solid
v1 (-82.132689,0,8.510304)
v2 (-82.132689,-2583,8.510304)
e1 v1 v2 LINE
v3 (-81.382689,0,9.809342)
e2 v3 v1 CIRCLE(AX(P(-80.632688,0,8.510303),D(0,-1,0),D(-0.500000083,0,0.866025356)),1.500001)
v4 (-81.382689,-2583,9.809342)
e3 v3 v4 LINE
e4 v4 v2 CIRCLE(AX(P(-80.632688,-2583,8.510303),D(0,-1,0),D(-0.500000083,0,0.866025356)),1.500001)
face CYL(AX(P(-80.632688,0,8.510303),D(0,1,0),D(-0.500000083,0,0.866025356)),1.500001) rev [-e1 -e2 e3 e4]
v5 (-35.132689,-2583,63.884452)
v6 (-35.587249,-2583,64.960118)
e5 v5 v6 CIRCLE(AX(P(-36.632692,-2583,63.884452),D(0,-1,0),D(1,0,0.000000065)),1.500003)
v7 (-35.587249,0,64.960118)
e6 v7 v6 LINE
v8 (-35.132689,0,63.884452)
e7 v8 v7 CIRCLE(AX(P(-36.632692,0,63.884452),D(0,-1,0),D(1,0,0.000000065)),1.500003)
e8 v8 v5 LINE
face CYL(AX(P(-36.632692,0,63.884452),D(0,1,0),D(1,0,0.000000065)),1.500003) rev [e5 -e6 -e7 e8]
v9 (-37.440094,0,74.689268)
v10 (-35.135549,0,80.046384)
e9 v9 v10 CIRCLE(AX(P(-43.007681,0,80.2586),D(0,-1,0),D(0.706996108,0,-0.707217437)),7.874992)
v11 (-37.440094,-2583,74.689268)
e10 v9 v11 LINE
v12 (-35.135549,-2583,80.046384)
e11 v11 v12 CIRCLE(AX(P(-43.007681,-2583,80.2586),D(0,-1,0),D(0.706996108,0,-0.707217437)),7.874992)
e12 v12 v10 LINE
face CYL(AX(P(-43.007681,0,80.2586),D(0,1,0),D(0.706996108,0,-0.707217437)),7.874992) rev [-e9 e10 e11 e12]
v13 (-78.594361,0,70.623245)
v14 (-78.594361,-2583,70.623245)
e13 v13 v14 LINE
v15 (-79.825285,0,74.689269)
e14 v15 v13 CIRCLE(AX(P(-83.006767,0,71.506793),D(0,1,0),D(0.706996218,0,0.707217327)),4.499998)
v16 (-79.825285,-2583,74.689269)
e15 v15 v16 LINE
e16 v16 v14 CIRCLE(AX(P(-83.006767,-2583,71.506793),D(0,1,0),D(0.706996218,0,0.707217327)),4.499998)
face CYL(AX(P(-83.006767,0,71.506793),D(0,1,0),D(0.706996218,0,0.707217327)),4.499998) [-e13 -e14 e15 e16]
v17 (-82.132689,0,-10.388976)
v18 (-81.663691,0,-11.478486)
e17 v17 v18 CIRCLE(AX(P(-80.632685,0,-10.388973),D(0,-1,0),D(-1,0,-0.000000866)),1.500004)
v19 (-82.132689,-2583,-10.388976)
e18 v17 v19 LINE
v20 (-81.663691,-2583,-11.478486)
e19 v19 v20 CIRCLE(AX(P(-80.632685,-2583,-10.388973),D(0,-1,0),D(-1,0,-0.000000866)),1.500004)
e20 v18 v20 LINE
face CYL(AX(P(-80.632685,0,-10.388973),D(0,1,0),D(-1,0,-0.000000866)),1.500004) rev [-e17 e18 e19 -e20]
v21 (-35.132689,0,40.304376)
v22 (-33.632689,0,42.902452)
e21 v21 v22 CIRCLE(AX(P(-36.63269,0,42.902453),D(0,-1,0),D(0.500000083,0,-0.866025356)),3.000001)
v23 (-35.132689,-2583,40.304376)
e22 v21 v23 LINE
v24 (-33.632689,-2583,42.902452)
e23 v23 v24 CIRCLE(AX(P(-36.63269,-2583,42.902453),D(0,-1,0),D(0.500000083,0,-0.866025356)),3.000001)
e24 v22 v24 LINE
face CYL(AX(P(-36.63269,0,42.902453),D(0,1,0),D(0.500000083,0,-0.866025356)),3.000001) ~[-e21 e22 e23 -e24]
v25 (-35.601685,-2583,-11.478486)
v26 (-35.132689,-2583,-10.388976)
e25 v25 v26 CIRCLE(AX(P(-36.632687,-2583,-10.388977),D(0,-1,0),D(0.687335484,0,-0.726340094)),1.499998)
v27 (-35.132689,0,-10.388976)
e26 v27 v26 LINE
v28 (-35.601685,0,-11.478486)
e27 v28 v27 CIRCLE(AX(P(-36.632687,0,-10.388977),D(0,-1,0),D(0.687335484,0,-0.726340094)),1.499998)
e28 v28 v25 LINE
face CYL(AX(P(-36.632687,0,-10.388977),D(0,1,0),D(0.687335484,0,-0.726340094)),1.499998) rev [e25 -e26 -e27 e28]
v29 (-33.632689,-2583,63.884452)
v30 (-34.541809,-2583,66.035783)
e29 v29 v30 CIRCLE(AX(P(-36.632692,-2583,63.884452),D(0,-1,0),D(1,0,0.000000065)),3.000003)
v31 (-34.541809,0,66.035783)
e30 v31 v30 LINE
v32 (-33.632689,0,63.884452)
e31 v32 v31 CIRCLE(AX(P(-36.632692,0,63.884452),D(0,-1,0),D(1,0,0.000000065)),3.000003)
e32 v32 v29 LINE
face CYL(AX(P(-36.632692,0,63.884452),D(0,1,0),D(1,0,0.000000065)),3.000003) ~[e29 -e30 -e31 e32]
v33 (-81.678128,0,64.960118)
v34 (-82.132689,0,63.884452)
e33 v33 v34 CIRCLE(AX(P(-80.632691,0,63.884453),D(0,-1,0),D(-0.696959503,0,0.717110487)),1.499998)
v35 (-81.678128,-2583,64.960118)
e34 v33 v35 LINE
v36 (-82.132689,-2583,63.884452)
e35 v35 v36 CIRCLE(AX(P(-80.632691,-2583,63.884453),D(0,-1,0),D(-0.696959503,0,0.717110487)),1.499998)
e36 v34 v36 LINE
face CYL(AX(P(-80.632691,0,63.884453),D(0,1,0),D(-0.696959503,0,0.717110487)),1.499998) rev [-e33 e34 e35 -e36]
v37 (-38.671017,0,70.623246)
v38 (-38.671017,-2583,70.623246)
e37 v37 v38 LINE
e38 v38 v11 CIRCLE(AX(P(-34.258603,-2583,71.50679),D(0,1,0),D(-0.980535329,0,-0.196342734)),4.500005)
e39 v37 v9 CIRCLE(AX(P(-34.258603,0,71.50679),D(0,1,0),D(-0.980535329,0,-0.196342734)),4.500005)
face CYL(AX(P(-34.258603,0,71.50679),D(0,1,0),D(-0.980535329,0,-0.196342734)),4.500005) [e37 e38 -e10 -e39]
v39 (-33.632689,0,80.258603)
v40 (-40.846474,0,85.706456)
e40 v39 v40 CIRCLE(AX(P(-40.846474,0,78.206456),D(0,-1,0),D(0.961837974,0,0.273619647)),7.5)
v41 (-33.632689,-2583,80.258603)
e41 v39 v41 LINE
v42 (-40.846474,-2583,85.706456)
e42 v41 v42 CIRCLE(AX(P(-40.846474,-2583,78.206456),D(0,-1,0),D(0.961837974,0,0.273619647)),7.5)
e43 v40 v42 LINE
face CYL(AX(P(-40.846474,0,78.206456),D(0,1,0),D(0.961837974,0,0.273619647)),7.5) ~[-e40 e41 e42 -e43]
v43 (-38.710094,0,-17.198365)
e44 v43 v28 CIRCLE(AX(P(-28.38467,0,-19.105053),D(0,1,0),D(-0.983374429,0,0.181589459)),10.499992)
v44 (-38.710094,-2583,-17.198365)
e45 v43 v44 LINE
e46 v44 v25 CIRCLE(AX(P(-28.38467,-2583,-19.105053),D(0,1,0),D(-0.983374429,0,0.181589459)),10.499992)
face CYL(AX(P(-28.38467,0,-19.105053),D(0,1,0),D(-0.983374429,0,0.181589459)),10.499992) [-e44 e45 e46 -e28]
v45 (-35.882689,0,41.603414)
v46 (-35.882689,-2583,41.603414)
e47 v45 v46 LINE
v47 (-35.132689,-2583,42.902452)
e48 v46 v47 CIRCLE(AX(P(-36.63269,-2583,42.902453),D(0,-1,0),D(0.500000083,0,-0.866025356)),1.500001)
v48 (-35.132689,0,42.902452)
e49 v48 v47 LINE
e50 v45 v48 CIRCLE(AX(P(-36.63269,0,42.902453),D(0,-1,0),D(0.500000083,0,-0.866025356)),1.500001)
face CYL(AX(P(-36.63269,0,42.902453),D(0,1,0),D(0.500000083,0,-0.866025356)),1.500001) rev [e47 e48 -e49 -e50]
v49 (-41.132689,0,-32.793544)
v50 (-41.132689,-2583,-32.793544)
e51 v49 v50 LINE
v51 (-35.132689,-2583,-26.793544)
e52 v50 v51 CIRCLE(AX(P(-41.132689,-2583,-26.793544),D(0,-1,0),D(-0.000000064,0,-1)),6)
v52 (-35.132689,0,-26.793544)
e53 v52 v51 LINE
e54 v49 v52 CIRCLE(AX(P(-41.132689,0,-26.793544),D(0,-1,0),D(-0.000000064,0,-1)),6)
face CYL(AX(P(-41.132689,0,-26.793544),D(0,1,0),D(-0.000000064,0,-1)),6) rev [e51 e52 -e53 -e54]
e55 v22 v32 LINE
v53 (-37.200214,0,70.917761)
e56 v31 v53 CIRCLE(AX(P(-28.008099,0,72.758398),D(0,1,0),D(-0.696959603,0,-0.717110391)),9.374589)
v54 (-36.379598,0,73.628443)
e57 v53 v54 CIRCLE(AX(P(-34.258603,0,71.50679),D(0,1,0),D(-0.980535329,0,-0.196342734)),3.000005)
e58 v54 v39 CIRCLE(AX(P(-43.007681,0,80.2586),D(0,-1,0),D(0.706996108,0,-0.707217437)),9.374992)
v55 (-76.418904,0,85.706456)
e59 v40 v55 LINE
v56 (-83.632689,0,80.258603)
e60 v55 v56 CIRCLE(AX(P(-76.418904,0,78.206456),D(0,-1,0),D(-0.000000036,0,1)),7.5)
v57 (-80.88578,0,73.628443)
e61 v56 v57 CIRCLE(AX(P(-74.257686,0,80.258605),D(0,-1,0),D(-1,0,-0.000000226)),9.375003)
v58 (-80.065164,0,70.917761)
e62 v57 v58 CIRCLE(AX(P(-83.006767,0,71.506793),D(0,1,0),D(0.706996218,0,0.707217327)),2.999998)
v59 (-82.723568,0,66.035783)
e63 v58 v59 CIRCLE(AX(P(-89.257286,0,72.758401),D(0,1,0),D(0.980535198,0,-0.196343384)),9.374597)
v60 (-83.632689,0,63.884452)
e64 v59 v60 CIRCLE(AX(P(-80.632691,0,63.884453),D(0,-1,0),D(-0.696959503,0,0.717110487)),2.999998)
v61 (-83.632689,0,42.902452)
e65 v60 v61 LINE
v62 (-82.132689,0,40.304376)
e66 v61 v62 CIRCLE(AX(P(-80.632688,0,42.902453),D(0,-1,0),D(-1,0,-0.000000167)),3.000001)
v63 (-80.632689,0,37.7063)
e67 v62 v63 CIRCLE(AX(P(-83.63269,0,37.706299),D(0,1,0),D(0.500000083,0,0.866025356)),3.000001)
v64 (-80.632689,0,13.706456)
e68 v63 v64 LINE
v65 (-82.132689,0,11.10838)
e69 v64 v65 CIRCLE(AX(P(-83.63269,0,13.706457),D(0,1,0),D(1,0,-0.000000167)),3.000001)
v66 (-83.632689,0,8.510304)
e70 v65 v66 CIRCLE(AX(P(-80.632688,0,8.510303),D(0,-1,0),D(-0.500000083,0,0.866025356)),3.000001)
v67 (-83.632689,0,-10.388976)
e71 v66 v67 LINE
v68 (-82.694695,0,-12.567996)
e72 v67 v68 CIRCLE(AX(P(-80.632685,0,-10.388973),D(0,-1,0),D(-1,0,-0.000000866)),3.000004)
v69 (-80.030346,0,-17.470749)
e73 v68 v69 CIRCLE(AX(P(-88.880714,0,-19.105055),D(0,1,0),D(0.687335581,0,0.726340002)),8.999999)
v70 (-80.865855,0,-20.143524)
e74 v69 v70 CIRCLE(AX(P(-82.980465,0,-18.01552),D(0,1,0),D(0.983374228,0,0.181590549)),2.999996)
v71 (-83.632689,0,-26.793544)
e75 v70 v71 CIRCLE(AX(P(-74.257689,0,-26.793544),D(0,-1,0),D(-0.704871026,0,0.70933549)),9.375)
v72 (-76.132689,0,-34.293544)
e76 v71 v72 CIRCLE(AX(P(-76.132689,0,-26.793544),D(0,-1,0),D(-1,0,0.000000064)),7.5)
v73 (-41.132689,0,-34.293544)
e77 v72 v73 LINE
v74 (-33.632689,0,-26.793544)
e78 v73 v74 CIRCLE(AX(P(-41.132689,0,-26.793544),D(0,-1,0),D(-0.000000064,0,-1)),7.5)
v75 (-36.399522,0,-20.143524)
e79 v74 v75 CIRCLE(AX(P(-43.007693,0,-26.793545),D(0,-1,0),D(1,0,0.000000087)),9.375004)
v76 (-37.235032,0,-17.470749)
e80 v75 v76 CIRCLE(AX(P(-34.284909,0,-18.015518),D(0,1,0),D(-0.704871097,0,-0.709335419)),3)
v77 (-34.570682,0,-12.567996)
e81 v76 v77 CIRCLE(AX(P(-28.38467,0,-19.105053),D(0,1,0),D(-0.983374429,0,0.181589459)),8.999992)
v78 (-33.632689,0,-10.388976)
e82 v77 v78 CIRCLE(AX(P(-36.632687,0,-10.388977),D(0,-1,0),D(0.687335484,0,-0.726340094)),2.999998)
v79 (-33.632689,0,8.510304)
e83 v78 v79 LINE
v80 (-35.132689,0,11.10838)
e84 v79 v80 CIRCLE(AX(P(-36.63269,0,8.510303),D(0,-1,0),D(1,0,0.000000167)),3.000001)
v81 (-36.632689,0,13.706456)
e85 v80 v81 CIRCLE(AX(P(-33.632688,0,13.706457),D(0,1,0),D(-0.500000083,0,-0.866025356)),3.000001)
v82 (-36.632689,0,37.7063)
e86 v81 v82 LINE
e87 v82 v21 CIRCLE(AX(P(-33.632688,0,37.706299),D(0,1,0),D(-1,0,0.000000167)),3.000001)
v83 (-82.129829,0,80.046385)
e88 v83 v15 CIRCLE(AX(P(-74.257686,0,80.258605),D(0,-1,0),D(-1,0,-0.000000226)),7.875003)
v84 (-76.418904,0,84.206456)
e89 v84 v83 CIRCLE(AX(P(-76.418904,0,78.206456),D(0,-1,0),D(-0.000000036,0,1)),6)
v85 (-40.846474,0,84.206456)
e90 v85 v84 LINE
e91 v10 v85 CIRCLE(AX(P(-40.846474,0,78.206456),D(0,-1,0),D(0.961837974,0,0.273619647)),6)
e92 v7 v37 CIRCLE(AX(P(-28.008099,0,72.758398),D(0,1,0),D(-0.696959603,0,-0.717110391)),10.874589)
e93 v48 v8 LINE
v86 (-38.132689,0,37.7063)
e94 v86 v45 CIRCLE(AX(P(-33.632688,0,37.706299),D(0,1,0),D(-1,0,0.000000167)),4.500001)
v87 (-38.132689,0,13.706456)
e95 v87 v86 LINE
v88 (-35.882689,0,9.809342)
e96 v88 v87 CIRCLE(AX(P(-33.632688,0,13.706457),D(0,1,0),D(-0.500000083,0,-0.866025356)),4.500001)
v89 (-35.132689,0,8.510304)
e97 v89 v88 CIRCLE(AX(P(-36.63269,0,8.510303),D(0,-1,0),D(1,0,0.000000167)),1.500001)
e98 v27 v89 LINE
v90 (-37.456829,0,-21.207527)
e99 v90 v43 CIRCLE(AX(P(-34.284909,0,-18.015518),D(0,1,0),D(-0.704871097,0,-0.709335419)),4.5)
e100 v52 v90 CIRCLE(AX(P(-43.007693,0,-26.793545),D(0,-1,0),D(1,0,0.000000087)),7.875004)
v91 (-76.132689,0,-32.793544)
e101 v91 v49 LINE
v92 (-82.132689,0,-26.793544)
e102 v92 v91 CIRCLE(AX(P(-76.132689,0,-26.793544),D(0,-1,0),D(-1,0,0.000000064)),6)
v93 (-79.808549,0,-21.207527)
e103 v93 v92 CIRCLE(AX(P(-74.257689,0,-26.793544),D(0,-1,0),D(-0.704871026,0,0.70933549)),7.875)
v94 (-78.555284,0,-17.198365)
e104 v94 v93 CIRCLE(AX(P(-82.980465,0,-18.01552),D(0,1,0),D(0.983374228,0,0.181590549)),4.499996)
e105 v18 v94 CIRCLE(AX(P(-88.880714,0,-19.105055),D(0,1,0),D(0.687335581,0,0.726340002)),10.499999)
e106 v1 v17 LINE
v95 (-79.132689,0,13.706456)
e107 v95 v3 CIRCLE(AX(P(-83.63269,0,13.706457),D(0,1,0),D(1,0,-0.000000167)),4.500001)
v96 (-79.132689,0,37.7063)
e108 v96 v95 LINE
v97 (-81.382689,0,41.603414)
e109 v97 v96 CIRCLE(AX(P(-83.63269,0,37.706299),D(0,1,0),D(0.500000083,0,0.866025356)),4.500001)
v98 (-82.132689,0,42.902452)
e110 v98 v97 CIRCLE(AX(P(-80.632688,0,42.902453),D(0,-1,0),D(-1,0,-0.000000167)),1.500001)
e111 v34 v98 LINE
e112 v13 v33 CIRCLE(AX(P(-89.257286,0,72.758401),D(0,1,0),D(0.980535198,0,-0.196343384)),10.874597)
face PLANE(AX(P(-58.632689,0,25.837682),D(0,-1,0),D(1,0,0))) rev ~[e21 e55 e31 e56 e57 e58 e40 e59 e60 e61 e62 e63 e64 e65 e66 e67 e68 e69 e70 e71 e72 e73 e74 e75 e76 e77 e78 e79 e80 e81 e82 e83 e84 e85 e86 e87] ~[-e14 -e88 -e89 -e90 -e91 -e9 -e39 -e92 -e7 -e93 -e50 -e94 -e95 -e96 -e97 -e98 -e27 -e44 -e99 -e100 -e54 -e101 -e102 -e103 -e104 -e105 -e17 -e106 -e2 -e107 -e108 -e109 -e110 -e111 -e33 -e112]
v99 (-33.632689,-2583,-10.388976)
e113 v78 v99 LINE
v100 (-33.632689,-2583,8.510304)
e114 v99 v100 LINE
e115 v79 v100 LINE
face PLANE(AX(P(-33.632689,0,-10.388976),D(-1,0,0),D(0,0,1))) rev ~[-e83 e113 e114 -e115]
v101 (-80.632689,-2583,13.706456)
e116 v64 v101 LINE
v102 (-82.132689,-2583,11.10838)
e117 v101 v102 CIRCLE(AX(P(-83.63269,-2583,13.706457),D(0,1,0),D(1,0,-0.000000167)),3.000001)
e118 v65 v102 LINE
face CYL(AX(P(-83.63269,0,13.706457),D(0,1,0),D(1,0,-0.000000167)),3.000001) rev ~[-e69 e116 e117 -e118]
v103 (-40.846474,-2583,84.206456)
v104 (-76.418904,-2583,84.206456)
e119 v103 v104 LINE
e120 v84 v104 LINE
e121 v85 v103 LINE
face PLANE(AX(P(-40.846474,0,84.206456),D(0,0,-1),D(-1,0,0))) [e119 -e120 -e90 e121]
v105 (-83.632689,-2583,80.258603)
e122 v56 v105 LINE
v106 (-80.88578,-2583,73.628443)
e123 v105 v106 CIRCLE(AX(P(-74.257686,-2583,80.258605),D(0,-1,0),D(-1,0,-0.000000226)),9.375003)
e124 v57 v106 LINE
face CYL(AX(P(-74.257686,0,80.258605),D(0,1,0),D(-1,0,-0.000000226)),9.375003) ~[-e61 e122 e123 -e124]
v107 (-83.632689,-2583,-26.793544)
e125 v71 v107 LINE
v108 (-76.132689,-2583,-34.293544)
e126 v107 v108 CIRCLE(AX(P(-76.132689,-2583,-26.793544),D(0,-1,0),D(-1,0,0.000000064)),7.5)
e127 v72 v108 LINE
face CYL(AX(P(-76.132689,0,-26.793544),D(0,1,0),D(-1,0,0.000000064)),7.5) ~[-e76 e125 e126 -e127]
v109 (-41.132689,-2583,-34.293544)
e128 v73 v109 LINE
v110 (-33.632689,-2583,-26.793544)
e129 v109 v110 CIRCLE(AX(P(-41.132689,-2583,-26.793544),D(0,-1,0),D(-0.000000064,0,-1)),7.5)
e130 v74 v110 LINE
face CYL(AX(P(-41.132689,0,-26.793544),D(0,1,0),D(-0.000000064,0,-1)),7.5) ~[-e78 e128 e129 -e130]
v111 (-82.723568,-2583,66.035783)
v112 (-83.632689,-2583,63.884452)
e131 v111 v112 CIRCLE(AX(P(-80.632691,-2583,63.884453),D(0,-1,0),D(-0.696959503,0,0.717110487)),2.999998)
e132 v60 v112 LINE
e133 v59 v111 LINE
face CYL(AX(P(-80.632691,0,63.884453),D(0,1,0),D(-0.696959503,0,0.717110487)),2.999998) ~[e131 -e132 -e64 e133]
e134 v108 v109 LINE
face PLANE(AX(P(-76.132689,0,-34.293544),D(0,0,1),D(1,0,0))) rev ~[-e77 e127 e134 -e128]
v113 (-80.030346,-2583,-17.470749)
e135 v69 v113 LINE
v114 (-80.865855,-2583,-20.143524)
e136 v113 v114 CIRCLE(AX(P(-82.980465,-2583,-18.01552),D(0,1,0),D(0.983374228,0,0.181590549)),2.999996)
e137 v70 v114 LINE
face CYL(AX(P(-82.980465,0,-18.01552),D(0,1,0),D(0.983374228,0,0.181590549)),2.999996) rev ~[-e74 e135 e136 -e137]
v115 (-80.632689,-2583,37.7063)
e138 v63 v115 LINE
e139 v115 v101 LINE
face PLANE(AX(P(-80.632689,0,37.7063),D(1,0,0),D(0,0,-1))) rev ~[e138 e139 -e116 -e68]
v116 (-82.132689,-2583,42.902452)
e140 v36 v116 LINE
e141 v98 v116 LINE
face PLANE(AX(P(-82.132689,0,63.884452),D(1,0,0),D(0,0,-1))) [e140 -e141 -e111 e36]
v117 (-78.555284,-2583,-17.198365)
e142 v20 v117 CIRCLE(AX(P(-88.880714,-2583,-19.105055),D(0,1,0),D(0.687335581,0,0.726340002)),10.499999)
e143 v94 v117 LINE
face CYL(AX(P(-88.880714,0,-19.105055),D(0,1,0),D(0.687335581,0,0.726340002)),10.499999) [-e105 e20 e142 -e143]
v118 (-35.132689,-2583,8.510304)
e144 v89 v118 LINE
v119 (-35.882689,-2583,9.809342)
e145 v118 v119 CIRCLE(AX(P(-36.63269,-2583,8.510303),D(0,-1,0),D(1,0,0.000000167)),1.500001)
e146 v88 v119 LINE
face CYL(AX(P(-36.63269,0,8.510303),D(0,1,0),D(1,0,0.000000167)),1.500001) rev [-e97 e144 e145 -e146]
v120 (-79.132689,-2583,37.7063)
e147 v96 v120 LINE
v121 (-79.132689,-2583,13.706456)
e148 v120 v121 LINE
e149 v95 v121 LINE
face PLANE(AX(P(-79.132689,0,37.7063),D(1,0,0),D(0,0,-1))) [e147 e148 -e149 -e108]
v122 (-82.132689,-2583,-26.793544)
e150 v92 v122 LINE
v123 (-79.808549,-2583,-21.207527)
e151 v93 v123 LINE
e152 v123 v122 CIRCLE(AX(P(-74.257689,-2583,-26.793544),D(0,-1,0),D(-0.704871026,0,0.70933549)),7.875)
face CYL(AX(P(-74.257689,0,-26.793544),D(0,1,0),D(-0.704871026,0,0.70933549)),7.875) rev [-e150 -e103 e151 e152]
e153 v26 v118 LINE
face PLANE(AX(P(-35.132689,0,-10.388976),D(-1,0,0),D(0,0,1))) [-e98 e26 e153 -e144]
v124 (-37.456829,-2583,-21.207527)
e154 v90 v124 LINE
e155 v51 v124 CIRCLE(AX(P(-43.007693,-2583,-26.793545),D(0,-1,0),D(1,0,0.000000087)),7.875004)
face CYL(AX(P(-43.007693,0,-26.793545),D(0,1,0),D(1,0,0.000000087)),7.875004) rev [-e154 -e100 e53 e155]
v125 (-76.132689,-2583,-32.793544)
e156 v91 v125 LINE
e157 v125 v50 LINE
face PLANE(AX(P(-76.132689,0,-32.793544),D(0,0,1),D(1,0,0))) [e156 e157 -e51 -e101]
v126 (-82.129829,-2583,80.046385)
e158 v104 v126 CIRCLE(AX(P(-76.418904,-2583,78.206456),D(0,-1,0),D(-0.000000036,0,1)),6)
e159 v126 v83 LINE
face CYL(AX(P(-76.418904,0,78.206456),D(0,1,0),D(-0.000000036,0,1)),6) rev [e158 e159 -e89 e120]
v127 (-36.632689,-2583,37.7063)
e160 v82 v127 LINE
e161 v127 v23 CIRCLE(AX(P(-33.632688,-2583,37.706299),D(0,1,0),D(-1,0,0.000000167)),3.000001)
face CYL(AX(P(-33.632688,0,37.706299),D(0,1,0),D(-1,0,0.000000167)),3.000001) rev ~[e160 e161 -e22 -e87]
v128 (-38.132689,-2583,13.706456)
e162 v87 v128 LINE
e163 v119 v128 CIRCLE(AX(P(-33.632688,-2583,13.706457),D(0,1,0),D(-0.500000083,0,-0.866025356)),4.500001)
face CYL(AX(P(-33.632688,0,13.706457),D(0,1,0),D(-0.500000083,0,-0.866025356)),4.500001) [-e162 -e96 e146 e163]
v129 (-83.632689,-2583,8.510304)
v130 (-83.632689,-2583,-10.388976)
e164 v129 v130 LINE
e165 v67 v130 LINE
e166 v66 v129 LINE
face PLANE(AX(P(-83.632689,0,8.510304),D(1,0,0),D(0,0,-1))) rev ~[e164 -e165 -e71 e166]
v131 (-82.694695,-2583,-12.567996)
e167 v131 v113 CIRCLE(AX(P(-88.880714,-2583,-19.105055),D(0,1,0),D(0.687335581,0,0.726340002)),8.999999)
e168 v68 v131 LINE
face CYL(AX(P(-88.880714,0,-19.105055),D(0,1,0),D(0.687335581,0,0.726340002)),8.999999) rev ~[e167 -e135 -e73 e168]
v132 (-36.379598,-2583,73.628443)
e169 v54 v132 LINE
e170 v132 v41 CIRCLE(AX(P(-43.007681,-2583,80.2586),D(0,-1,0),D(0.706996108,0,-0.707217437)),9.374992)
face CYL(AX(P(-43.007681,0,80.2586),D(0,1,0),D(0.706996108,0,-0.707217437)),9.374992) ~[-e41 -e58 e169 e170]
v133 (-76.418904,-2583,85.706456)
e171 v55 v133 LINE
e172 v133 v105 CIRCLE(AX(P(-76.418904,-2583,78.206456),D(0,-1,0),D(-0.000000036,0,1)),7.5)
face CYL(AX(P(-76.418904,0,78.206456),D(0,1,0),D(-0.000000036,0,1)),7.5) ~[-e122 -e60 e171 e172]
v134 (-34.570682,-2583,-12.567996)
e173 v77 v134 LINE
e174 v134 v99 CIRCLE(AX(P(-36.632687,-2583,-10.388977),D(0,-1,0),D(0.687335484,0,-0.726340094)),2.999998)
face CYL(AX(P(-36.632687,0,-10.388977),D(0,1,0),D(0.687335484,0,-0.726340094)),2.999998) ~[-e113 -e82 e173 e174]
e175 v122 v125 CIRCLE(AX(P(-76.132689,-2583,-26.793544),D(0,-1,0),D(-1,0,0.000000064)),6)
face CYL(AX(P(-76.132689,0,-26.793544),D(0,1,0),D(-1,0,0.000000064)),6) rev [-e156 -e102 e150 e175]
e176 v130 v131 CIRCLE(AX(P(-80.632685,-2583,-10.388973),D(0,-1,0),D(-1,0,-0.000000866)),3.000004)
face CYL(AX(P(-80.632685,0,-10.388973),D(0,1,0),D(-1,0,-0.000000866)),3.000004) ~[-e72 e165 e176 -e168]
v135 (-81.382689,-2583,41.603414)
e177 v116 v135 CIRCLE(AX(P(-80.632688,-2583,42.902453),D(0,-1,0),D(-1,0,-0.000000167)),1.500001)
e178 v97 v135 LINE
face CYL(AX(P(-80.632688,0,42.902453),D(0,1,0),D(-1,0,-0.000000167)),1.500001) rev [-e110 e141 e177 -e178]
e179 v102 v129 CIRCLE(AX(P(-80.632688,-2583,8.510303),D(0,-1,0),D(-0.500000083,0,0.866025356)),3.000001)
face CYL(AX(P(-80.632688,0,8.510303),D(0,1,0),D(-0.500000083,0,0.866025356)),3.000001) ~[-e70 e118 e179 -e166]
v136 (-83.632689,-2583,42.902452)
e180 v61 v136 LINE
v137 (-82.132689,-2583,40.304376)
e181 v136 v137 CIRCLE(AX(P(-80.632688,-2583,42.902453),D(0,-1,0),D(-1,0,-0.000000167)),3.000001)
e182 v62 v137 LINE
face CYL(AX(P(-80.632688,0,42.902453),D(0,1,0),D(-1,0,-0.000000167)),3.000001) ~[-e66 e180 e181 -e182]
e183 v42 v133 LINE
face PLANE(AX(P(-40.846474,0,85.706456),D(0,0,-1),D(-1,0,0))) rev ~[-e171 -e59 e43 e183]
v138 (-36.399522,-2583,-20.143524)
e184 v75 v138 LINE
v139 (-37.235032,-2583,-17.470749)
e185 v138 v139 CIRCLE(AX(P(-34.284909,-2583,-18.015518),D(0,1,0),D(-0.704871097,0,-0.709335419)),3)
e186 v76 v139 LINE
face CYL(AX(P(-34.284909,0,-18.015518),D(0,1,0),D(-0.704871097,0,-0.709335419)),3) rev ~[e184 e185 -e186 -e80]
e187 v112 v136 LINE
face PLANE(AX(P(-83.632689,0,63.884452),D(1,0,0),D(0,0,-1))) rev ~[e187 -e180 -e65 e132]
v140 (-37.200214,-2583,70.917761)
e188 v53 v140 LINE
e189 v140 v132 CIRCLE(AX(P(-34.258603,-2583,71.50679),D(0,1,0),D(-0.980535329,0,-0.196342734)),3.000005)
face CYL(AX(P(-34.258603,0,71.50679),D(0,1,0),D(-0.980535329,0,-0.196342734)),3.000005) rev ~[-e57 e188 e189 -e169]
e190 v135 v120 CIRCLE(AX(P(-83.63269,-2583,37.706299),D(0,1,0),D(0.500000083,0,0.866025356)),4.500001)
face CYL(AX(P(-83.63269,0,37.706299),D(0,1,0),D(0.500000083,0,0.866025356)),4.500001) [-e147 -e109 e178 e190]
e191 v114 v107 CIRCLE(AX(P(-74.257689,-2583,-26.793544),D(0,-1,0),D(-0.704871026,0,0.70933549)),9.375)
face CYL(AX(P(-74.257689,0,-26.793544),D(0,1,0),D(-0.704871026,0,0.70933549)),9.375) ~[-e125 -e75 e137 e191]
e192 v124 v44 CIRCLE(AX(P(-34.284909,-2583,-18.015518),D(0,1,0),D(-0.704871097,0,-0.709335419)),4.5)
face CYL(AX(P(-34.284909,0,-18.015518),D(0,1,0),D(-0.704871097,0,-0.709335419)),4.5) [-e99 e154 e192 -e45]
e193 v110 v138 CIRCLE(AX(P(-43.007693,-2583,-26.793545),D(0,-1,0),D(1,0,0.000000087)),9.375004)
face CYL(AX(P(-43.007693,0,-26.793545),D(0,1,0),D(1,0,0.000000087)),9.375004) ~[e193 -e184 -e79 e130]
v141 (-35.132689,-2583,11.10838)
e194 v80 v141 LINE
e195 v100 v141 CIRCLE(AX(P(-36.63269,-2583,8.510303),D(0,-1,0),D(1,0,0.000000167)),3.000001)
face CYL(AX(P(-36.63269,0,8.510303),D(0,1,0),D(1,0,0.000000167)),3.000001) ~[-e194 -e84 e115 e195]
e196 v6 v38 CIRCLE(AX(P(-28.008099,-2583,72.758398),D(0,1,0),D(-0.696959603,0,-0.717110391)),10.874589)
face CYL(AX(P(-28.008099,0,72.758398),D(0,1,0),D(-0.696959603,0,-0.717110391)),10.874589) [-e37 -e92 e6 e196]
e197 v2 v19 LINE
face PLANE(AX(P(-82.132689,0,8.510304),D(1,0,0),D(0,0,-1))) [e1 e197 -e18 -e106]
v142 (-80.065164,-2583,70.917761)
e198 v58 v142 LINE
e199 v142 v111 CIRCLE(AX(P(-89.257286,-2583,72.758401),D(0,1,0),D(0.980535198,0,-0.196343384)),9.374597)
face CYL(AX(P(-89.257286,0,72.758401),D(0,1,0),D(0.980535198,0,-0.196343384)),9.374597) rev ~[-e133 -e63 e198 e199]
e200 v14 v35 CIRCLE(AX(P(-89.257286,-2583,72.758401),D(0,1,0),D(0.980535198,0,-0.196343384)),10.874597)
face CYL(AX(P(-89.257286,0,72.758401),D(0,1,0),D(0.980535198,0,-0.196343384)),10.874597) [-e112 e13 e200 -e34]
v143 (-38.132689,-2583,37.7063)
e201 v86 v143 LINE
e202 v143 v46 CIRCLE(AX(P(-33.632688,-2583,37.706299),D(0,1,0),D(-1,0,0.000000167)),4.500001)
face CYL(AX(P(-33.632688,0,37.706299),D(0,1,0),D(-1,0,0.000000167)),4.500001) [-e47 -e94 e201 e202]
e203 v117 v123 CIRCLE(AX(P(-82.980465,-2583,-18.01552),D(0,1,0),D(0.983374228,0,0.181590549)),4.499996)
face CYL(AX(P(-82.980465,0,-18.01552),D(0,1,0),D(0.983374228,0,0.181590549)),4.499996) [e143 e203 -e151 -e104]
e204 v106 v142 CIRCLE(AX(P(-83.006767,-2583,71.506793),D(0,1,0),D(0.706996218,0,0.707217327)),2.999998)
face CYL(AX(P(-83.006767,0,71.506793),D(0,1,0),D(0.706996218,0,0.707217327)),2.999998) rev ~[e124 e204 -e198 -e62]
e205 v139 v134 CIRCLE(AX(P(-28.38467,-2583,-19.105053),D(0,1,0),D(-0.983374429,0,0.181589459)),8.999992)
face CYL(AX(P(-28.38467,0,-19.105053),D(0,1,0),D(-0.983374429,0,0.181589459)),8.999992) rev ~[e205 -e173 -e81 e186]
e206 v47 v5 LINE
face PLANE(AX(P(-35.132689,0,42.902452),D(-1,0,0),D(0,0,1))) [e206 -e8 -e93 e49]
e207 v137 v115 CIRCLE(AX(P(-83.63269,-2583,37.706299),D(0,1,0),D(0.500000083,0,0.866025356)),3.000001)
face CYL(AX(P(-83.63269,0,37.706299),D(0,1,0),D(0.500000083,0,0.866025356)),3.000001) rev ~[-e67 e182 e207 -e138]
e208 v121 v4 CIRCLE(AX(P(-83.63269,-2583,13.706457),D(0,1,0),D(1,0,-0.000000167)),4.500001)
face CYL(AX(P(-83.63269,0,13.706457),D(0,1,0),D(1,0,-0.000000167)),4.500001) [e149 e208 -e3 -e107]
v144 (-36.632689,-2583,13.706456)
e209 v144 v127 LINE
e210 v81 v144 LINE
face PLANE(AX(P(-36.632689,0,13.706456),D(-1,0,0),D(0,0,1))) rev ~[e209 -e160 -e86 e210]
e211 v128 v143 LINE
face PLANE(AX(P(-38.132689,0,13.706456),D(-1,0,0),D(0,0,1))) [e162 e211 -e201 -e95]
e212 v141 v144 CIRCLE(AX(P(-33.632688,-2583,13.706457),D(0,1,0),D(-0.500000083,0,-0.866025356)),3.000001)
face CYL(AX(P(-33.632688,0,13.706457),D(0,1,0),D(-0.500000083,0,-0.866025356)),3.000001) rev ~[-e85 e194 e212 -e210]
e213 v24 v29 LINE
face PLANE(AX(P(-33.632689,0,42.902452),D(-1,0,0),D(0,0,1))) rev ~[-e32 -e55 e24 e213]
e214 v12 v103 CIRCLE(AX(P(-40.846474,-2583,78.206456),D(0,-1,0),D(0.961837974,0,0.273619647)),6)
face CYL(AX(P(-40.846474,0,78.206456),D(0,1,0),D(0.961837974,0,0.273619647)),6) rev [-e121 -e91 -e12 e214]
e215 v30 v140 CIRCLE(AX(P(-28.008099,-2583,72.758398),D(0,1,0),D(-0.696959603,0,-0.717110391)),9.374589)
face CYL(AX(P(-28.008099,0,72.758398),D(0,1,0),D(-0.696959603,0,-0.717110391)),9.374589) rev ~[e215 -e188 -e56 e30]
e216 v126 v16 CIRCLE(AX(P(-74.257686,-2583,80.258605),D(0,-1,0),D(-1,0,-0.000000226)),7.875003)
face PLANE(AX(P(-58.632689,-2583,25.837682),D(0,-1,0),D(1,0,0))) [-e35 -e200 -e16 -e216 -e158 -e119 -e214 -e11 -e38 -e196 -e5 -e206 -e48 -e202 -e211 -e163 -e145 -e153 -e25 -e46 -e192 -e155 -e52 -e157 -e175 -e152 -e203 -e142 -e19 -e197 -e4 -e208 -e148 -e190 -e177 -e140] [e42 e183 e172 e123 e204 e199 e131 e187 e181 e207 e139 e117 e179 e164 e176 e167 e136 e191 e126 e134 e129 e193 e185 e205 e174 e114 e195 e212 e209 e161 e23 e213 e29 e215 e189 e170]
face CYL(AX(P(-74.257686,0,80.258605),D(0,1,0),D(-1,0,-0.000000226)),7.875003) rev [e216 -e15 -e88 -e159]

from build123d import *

# Parameters (mm, degrees)
F1_DEPTH = 2583
F2_T     = -1.5


with BuildPart() as f1:
    # F0 (on Front) → F1 (new body)
    with BuildSketch(Plane.XZ):
        with BuildLine():
            Line((-40.846474, 85.706456), (-76.418904, 85.706456))
            ThreePointArc((-76.418904, 85.706456), (-80.938799, 84.191483), (-83.632689, 80.258603))
            ThreePointArc((-83.632689, 80.258603), (-82.918779, 76.67027), (-80.88578, 73.628443))
            ThreePointArc((-80.88578, 73.628443), (-80.13546, 72.376035), (-80.065164, 70.917761))
            ThreePointArc((-80.065164, 70.917761), (-81.024186, 68.275196), (-82.723568, 66.035783))
            ThreePointArc((-82.723568, 66.035783), (-83.396078, 65.05222), (-83.632689, 63.884452))
            Line((-83.632689, 63.884452), (-83.632689, 42.902452))
            ThreePointArc((-83.632689, 42.902452), (-83.230765, 41.402452), (-82.132689, 40.304376))
            ThreePointArc((-82.132689, 40.304376), (-81.034613, 39.2063), (-80.632689, 37.7063))
            Line((-80.632689, 37.7063), (-80.632689, 13.706456))
            ThreePointArc((-80.632689, 13.706456), (-81.034613, 12.206456), (-82.132689, 11.10838))
            ThreePointArc((-82.132689, 11.10838), (-83.230765, 10.010304), (-83.632689, 8.510304))
            Line((-83.632689, 8.510304), (-83.632689, -10.388976))
            ThreePointArc((-83.632689, -10.388976), (-83.38823, -11.575142), (-82.694695, -12.567996))
            ThreePointArc((-82.694695, -12.567996), (-80.972966, -14.807673), (-80.030346, -17.470749))
            ThreePointArc((-80.030346, -17.470749), (-80.11711, -18.910604), (-80.865855, -20.143524))
            ThreePointArc((-80.865855, -20.143524), (-82.913386, -23.19222), (-83.632689, -26.793544))
            ThreePointArc((-83.632689, -26.793544), (-81.43599, -32.096845), (-76.132689, -34.293544))
            Line((-76.132689, -34.293544), (-41.132689, -34.293544))
            ThreePointArc((-41.132689, -34.293544), (-35.829388, -32.096845), (-33.632689, -26.793544))
            ThreePointArc((-33.632689, -26.793544), (-34.351992, -23.19222), (-36.399522, -20.143524))
            ThreePointArc((-36.399522, -20.143524), (-37.148267, -18.910604), (-37.235032, -17.470749))
            ThreePointArc((-37.235032, -17.470749), (-36.292412, -14.807673), (-34.570682, -12.567996))
            ThreePointArc((-34.570682, -12.567996), (-33.877147, -11.575142), (-33.632689, -10.388976))
            Line((-33.632689, -10.388976), (-33.632689, 8.510304))
            ThreePointArc((-33.632689, 8.510304), (-34.034613, 10.010304), (-35.132689, 11.10838))
            ThreePointArc((-35.132689, 11.10838), (-36.230765, 12.206456), (-36.632689, 13.706456))
            Line((-36.632689, 13.706456), (-36.632689, 37.7063))
            ThreePointArc((-36.632689, 37.7063), (-36.230765, 39.2063), (-35.132689, 40.304376))
            ThreePointArc((-35.132689, 40.304376), (-34.034613, 41.402452), (-33.632689, 42.902452))
            Line((-33.632689, 42.902452), (-33.632689, 63.884452))
            ThreePointArc((-33.632689, 63.884452), (-33.8693, 65.05222), (-34.541809, 66.035783))
            ThreePointArc((-34.541809, 66.035783), (-36.241192, 68.275196), (-37.200214, 70.917761))
            ThreePointArc((-37.200214, 70.917761), (-37.129917, 72.376035), (-36.379598, 73.628443))
            ThreePointArc((-36.379598, 73.628443), (-34.346598, 76.67027), (-33.632689, 80.258603))
            ThreePointArc((-33.632689, 80.258603), (-36.326579, 84.191483), (-40.846474, 85.706456))
        make_face()
    extrude(amount=F1_DEPTH)

    # F2
    f2_openings = [f1.faces().sort_by_distance(p)[0] for p in [
        (-58.632689, -2583, 25.725749),
        (-58.632689, 0, 25.725749),
    ]]
    offset(amount=F2_T, openings=f2_openings)


solid = f1.part
